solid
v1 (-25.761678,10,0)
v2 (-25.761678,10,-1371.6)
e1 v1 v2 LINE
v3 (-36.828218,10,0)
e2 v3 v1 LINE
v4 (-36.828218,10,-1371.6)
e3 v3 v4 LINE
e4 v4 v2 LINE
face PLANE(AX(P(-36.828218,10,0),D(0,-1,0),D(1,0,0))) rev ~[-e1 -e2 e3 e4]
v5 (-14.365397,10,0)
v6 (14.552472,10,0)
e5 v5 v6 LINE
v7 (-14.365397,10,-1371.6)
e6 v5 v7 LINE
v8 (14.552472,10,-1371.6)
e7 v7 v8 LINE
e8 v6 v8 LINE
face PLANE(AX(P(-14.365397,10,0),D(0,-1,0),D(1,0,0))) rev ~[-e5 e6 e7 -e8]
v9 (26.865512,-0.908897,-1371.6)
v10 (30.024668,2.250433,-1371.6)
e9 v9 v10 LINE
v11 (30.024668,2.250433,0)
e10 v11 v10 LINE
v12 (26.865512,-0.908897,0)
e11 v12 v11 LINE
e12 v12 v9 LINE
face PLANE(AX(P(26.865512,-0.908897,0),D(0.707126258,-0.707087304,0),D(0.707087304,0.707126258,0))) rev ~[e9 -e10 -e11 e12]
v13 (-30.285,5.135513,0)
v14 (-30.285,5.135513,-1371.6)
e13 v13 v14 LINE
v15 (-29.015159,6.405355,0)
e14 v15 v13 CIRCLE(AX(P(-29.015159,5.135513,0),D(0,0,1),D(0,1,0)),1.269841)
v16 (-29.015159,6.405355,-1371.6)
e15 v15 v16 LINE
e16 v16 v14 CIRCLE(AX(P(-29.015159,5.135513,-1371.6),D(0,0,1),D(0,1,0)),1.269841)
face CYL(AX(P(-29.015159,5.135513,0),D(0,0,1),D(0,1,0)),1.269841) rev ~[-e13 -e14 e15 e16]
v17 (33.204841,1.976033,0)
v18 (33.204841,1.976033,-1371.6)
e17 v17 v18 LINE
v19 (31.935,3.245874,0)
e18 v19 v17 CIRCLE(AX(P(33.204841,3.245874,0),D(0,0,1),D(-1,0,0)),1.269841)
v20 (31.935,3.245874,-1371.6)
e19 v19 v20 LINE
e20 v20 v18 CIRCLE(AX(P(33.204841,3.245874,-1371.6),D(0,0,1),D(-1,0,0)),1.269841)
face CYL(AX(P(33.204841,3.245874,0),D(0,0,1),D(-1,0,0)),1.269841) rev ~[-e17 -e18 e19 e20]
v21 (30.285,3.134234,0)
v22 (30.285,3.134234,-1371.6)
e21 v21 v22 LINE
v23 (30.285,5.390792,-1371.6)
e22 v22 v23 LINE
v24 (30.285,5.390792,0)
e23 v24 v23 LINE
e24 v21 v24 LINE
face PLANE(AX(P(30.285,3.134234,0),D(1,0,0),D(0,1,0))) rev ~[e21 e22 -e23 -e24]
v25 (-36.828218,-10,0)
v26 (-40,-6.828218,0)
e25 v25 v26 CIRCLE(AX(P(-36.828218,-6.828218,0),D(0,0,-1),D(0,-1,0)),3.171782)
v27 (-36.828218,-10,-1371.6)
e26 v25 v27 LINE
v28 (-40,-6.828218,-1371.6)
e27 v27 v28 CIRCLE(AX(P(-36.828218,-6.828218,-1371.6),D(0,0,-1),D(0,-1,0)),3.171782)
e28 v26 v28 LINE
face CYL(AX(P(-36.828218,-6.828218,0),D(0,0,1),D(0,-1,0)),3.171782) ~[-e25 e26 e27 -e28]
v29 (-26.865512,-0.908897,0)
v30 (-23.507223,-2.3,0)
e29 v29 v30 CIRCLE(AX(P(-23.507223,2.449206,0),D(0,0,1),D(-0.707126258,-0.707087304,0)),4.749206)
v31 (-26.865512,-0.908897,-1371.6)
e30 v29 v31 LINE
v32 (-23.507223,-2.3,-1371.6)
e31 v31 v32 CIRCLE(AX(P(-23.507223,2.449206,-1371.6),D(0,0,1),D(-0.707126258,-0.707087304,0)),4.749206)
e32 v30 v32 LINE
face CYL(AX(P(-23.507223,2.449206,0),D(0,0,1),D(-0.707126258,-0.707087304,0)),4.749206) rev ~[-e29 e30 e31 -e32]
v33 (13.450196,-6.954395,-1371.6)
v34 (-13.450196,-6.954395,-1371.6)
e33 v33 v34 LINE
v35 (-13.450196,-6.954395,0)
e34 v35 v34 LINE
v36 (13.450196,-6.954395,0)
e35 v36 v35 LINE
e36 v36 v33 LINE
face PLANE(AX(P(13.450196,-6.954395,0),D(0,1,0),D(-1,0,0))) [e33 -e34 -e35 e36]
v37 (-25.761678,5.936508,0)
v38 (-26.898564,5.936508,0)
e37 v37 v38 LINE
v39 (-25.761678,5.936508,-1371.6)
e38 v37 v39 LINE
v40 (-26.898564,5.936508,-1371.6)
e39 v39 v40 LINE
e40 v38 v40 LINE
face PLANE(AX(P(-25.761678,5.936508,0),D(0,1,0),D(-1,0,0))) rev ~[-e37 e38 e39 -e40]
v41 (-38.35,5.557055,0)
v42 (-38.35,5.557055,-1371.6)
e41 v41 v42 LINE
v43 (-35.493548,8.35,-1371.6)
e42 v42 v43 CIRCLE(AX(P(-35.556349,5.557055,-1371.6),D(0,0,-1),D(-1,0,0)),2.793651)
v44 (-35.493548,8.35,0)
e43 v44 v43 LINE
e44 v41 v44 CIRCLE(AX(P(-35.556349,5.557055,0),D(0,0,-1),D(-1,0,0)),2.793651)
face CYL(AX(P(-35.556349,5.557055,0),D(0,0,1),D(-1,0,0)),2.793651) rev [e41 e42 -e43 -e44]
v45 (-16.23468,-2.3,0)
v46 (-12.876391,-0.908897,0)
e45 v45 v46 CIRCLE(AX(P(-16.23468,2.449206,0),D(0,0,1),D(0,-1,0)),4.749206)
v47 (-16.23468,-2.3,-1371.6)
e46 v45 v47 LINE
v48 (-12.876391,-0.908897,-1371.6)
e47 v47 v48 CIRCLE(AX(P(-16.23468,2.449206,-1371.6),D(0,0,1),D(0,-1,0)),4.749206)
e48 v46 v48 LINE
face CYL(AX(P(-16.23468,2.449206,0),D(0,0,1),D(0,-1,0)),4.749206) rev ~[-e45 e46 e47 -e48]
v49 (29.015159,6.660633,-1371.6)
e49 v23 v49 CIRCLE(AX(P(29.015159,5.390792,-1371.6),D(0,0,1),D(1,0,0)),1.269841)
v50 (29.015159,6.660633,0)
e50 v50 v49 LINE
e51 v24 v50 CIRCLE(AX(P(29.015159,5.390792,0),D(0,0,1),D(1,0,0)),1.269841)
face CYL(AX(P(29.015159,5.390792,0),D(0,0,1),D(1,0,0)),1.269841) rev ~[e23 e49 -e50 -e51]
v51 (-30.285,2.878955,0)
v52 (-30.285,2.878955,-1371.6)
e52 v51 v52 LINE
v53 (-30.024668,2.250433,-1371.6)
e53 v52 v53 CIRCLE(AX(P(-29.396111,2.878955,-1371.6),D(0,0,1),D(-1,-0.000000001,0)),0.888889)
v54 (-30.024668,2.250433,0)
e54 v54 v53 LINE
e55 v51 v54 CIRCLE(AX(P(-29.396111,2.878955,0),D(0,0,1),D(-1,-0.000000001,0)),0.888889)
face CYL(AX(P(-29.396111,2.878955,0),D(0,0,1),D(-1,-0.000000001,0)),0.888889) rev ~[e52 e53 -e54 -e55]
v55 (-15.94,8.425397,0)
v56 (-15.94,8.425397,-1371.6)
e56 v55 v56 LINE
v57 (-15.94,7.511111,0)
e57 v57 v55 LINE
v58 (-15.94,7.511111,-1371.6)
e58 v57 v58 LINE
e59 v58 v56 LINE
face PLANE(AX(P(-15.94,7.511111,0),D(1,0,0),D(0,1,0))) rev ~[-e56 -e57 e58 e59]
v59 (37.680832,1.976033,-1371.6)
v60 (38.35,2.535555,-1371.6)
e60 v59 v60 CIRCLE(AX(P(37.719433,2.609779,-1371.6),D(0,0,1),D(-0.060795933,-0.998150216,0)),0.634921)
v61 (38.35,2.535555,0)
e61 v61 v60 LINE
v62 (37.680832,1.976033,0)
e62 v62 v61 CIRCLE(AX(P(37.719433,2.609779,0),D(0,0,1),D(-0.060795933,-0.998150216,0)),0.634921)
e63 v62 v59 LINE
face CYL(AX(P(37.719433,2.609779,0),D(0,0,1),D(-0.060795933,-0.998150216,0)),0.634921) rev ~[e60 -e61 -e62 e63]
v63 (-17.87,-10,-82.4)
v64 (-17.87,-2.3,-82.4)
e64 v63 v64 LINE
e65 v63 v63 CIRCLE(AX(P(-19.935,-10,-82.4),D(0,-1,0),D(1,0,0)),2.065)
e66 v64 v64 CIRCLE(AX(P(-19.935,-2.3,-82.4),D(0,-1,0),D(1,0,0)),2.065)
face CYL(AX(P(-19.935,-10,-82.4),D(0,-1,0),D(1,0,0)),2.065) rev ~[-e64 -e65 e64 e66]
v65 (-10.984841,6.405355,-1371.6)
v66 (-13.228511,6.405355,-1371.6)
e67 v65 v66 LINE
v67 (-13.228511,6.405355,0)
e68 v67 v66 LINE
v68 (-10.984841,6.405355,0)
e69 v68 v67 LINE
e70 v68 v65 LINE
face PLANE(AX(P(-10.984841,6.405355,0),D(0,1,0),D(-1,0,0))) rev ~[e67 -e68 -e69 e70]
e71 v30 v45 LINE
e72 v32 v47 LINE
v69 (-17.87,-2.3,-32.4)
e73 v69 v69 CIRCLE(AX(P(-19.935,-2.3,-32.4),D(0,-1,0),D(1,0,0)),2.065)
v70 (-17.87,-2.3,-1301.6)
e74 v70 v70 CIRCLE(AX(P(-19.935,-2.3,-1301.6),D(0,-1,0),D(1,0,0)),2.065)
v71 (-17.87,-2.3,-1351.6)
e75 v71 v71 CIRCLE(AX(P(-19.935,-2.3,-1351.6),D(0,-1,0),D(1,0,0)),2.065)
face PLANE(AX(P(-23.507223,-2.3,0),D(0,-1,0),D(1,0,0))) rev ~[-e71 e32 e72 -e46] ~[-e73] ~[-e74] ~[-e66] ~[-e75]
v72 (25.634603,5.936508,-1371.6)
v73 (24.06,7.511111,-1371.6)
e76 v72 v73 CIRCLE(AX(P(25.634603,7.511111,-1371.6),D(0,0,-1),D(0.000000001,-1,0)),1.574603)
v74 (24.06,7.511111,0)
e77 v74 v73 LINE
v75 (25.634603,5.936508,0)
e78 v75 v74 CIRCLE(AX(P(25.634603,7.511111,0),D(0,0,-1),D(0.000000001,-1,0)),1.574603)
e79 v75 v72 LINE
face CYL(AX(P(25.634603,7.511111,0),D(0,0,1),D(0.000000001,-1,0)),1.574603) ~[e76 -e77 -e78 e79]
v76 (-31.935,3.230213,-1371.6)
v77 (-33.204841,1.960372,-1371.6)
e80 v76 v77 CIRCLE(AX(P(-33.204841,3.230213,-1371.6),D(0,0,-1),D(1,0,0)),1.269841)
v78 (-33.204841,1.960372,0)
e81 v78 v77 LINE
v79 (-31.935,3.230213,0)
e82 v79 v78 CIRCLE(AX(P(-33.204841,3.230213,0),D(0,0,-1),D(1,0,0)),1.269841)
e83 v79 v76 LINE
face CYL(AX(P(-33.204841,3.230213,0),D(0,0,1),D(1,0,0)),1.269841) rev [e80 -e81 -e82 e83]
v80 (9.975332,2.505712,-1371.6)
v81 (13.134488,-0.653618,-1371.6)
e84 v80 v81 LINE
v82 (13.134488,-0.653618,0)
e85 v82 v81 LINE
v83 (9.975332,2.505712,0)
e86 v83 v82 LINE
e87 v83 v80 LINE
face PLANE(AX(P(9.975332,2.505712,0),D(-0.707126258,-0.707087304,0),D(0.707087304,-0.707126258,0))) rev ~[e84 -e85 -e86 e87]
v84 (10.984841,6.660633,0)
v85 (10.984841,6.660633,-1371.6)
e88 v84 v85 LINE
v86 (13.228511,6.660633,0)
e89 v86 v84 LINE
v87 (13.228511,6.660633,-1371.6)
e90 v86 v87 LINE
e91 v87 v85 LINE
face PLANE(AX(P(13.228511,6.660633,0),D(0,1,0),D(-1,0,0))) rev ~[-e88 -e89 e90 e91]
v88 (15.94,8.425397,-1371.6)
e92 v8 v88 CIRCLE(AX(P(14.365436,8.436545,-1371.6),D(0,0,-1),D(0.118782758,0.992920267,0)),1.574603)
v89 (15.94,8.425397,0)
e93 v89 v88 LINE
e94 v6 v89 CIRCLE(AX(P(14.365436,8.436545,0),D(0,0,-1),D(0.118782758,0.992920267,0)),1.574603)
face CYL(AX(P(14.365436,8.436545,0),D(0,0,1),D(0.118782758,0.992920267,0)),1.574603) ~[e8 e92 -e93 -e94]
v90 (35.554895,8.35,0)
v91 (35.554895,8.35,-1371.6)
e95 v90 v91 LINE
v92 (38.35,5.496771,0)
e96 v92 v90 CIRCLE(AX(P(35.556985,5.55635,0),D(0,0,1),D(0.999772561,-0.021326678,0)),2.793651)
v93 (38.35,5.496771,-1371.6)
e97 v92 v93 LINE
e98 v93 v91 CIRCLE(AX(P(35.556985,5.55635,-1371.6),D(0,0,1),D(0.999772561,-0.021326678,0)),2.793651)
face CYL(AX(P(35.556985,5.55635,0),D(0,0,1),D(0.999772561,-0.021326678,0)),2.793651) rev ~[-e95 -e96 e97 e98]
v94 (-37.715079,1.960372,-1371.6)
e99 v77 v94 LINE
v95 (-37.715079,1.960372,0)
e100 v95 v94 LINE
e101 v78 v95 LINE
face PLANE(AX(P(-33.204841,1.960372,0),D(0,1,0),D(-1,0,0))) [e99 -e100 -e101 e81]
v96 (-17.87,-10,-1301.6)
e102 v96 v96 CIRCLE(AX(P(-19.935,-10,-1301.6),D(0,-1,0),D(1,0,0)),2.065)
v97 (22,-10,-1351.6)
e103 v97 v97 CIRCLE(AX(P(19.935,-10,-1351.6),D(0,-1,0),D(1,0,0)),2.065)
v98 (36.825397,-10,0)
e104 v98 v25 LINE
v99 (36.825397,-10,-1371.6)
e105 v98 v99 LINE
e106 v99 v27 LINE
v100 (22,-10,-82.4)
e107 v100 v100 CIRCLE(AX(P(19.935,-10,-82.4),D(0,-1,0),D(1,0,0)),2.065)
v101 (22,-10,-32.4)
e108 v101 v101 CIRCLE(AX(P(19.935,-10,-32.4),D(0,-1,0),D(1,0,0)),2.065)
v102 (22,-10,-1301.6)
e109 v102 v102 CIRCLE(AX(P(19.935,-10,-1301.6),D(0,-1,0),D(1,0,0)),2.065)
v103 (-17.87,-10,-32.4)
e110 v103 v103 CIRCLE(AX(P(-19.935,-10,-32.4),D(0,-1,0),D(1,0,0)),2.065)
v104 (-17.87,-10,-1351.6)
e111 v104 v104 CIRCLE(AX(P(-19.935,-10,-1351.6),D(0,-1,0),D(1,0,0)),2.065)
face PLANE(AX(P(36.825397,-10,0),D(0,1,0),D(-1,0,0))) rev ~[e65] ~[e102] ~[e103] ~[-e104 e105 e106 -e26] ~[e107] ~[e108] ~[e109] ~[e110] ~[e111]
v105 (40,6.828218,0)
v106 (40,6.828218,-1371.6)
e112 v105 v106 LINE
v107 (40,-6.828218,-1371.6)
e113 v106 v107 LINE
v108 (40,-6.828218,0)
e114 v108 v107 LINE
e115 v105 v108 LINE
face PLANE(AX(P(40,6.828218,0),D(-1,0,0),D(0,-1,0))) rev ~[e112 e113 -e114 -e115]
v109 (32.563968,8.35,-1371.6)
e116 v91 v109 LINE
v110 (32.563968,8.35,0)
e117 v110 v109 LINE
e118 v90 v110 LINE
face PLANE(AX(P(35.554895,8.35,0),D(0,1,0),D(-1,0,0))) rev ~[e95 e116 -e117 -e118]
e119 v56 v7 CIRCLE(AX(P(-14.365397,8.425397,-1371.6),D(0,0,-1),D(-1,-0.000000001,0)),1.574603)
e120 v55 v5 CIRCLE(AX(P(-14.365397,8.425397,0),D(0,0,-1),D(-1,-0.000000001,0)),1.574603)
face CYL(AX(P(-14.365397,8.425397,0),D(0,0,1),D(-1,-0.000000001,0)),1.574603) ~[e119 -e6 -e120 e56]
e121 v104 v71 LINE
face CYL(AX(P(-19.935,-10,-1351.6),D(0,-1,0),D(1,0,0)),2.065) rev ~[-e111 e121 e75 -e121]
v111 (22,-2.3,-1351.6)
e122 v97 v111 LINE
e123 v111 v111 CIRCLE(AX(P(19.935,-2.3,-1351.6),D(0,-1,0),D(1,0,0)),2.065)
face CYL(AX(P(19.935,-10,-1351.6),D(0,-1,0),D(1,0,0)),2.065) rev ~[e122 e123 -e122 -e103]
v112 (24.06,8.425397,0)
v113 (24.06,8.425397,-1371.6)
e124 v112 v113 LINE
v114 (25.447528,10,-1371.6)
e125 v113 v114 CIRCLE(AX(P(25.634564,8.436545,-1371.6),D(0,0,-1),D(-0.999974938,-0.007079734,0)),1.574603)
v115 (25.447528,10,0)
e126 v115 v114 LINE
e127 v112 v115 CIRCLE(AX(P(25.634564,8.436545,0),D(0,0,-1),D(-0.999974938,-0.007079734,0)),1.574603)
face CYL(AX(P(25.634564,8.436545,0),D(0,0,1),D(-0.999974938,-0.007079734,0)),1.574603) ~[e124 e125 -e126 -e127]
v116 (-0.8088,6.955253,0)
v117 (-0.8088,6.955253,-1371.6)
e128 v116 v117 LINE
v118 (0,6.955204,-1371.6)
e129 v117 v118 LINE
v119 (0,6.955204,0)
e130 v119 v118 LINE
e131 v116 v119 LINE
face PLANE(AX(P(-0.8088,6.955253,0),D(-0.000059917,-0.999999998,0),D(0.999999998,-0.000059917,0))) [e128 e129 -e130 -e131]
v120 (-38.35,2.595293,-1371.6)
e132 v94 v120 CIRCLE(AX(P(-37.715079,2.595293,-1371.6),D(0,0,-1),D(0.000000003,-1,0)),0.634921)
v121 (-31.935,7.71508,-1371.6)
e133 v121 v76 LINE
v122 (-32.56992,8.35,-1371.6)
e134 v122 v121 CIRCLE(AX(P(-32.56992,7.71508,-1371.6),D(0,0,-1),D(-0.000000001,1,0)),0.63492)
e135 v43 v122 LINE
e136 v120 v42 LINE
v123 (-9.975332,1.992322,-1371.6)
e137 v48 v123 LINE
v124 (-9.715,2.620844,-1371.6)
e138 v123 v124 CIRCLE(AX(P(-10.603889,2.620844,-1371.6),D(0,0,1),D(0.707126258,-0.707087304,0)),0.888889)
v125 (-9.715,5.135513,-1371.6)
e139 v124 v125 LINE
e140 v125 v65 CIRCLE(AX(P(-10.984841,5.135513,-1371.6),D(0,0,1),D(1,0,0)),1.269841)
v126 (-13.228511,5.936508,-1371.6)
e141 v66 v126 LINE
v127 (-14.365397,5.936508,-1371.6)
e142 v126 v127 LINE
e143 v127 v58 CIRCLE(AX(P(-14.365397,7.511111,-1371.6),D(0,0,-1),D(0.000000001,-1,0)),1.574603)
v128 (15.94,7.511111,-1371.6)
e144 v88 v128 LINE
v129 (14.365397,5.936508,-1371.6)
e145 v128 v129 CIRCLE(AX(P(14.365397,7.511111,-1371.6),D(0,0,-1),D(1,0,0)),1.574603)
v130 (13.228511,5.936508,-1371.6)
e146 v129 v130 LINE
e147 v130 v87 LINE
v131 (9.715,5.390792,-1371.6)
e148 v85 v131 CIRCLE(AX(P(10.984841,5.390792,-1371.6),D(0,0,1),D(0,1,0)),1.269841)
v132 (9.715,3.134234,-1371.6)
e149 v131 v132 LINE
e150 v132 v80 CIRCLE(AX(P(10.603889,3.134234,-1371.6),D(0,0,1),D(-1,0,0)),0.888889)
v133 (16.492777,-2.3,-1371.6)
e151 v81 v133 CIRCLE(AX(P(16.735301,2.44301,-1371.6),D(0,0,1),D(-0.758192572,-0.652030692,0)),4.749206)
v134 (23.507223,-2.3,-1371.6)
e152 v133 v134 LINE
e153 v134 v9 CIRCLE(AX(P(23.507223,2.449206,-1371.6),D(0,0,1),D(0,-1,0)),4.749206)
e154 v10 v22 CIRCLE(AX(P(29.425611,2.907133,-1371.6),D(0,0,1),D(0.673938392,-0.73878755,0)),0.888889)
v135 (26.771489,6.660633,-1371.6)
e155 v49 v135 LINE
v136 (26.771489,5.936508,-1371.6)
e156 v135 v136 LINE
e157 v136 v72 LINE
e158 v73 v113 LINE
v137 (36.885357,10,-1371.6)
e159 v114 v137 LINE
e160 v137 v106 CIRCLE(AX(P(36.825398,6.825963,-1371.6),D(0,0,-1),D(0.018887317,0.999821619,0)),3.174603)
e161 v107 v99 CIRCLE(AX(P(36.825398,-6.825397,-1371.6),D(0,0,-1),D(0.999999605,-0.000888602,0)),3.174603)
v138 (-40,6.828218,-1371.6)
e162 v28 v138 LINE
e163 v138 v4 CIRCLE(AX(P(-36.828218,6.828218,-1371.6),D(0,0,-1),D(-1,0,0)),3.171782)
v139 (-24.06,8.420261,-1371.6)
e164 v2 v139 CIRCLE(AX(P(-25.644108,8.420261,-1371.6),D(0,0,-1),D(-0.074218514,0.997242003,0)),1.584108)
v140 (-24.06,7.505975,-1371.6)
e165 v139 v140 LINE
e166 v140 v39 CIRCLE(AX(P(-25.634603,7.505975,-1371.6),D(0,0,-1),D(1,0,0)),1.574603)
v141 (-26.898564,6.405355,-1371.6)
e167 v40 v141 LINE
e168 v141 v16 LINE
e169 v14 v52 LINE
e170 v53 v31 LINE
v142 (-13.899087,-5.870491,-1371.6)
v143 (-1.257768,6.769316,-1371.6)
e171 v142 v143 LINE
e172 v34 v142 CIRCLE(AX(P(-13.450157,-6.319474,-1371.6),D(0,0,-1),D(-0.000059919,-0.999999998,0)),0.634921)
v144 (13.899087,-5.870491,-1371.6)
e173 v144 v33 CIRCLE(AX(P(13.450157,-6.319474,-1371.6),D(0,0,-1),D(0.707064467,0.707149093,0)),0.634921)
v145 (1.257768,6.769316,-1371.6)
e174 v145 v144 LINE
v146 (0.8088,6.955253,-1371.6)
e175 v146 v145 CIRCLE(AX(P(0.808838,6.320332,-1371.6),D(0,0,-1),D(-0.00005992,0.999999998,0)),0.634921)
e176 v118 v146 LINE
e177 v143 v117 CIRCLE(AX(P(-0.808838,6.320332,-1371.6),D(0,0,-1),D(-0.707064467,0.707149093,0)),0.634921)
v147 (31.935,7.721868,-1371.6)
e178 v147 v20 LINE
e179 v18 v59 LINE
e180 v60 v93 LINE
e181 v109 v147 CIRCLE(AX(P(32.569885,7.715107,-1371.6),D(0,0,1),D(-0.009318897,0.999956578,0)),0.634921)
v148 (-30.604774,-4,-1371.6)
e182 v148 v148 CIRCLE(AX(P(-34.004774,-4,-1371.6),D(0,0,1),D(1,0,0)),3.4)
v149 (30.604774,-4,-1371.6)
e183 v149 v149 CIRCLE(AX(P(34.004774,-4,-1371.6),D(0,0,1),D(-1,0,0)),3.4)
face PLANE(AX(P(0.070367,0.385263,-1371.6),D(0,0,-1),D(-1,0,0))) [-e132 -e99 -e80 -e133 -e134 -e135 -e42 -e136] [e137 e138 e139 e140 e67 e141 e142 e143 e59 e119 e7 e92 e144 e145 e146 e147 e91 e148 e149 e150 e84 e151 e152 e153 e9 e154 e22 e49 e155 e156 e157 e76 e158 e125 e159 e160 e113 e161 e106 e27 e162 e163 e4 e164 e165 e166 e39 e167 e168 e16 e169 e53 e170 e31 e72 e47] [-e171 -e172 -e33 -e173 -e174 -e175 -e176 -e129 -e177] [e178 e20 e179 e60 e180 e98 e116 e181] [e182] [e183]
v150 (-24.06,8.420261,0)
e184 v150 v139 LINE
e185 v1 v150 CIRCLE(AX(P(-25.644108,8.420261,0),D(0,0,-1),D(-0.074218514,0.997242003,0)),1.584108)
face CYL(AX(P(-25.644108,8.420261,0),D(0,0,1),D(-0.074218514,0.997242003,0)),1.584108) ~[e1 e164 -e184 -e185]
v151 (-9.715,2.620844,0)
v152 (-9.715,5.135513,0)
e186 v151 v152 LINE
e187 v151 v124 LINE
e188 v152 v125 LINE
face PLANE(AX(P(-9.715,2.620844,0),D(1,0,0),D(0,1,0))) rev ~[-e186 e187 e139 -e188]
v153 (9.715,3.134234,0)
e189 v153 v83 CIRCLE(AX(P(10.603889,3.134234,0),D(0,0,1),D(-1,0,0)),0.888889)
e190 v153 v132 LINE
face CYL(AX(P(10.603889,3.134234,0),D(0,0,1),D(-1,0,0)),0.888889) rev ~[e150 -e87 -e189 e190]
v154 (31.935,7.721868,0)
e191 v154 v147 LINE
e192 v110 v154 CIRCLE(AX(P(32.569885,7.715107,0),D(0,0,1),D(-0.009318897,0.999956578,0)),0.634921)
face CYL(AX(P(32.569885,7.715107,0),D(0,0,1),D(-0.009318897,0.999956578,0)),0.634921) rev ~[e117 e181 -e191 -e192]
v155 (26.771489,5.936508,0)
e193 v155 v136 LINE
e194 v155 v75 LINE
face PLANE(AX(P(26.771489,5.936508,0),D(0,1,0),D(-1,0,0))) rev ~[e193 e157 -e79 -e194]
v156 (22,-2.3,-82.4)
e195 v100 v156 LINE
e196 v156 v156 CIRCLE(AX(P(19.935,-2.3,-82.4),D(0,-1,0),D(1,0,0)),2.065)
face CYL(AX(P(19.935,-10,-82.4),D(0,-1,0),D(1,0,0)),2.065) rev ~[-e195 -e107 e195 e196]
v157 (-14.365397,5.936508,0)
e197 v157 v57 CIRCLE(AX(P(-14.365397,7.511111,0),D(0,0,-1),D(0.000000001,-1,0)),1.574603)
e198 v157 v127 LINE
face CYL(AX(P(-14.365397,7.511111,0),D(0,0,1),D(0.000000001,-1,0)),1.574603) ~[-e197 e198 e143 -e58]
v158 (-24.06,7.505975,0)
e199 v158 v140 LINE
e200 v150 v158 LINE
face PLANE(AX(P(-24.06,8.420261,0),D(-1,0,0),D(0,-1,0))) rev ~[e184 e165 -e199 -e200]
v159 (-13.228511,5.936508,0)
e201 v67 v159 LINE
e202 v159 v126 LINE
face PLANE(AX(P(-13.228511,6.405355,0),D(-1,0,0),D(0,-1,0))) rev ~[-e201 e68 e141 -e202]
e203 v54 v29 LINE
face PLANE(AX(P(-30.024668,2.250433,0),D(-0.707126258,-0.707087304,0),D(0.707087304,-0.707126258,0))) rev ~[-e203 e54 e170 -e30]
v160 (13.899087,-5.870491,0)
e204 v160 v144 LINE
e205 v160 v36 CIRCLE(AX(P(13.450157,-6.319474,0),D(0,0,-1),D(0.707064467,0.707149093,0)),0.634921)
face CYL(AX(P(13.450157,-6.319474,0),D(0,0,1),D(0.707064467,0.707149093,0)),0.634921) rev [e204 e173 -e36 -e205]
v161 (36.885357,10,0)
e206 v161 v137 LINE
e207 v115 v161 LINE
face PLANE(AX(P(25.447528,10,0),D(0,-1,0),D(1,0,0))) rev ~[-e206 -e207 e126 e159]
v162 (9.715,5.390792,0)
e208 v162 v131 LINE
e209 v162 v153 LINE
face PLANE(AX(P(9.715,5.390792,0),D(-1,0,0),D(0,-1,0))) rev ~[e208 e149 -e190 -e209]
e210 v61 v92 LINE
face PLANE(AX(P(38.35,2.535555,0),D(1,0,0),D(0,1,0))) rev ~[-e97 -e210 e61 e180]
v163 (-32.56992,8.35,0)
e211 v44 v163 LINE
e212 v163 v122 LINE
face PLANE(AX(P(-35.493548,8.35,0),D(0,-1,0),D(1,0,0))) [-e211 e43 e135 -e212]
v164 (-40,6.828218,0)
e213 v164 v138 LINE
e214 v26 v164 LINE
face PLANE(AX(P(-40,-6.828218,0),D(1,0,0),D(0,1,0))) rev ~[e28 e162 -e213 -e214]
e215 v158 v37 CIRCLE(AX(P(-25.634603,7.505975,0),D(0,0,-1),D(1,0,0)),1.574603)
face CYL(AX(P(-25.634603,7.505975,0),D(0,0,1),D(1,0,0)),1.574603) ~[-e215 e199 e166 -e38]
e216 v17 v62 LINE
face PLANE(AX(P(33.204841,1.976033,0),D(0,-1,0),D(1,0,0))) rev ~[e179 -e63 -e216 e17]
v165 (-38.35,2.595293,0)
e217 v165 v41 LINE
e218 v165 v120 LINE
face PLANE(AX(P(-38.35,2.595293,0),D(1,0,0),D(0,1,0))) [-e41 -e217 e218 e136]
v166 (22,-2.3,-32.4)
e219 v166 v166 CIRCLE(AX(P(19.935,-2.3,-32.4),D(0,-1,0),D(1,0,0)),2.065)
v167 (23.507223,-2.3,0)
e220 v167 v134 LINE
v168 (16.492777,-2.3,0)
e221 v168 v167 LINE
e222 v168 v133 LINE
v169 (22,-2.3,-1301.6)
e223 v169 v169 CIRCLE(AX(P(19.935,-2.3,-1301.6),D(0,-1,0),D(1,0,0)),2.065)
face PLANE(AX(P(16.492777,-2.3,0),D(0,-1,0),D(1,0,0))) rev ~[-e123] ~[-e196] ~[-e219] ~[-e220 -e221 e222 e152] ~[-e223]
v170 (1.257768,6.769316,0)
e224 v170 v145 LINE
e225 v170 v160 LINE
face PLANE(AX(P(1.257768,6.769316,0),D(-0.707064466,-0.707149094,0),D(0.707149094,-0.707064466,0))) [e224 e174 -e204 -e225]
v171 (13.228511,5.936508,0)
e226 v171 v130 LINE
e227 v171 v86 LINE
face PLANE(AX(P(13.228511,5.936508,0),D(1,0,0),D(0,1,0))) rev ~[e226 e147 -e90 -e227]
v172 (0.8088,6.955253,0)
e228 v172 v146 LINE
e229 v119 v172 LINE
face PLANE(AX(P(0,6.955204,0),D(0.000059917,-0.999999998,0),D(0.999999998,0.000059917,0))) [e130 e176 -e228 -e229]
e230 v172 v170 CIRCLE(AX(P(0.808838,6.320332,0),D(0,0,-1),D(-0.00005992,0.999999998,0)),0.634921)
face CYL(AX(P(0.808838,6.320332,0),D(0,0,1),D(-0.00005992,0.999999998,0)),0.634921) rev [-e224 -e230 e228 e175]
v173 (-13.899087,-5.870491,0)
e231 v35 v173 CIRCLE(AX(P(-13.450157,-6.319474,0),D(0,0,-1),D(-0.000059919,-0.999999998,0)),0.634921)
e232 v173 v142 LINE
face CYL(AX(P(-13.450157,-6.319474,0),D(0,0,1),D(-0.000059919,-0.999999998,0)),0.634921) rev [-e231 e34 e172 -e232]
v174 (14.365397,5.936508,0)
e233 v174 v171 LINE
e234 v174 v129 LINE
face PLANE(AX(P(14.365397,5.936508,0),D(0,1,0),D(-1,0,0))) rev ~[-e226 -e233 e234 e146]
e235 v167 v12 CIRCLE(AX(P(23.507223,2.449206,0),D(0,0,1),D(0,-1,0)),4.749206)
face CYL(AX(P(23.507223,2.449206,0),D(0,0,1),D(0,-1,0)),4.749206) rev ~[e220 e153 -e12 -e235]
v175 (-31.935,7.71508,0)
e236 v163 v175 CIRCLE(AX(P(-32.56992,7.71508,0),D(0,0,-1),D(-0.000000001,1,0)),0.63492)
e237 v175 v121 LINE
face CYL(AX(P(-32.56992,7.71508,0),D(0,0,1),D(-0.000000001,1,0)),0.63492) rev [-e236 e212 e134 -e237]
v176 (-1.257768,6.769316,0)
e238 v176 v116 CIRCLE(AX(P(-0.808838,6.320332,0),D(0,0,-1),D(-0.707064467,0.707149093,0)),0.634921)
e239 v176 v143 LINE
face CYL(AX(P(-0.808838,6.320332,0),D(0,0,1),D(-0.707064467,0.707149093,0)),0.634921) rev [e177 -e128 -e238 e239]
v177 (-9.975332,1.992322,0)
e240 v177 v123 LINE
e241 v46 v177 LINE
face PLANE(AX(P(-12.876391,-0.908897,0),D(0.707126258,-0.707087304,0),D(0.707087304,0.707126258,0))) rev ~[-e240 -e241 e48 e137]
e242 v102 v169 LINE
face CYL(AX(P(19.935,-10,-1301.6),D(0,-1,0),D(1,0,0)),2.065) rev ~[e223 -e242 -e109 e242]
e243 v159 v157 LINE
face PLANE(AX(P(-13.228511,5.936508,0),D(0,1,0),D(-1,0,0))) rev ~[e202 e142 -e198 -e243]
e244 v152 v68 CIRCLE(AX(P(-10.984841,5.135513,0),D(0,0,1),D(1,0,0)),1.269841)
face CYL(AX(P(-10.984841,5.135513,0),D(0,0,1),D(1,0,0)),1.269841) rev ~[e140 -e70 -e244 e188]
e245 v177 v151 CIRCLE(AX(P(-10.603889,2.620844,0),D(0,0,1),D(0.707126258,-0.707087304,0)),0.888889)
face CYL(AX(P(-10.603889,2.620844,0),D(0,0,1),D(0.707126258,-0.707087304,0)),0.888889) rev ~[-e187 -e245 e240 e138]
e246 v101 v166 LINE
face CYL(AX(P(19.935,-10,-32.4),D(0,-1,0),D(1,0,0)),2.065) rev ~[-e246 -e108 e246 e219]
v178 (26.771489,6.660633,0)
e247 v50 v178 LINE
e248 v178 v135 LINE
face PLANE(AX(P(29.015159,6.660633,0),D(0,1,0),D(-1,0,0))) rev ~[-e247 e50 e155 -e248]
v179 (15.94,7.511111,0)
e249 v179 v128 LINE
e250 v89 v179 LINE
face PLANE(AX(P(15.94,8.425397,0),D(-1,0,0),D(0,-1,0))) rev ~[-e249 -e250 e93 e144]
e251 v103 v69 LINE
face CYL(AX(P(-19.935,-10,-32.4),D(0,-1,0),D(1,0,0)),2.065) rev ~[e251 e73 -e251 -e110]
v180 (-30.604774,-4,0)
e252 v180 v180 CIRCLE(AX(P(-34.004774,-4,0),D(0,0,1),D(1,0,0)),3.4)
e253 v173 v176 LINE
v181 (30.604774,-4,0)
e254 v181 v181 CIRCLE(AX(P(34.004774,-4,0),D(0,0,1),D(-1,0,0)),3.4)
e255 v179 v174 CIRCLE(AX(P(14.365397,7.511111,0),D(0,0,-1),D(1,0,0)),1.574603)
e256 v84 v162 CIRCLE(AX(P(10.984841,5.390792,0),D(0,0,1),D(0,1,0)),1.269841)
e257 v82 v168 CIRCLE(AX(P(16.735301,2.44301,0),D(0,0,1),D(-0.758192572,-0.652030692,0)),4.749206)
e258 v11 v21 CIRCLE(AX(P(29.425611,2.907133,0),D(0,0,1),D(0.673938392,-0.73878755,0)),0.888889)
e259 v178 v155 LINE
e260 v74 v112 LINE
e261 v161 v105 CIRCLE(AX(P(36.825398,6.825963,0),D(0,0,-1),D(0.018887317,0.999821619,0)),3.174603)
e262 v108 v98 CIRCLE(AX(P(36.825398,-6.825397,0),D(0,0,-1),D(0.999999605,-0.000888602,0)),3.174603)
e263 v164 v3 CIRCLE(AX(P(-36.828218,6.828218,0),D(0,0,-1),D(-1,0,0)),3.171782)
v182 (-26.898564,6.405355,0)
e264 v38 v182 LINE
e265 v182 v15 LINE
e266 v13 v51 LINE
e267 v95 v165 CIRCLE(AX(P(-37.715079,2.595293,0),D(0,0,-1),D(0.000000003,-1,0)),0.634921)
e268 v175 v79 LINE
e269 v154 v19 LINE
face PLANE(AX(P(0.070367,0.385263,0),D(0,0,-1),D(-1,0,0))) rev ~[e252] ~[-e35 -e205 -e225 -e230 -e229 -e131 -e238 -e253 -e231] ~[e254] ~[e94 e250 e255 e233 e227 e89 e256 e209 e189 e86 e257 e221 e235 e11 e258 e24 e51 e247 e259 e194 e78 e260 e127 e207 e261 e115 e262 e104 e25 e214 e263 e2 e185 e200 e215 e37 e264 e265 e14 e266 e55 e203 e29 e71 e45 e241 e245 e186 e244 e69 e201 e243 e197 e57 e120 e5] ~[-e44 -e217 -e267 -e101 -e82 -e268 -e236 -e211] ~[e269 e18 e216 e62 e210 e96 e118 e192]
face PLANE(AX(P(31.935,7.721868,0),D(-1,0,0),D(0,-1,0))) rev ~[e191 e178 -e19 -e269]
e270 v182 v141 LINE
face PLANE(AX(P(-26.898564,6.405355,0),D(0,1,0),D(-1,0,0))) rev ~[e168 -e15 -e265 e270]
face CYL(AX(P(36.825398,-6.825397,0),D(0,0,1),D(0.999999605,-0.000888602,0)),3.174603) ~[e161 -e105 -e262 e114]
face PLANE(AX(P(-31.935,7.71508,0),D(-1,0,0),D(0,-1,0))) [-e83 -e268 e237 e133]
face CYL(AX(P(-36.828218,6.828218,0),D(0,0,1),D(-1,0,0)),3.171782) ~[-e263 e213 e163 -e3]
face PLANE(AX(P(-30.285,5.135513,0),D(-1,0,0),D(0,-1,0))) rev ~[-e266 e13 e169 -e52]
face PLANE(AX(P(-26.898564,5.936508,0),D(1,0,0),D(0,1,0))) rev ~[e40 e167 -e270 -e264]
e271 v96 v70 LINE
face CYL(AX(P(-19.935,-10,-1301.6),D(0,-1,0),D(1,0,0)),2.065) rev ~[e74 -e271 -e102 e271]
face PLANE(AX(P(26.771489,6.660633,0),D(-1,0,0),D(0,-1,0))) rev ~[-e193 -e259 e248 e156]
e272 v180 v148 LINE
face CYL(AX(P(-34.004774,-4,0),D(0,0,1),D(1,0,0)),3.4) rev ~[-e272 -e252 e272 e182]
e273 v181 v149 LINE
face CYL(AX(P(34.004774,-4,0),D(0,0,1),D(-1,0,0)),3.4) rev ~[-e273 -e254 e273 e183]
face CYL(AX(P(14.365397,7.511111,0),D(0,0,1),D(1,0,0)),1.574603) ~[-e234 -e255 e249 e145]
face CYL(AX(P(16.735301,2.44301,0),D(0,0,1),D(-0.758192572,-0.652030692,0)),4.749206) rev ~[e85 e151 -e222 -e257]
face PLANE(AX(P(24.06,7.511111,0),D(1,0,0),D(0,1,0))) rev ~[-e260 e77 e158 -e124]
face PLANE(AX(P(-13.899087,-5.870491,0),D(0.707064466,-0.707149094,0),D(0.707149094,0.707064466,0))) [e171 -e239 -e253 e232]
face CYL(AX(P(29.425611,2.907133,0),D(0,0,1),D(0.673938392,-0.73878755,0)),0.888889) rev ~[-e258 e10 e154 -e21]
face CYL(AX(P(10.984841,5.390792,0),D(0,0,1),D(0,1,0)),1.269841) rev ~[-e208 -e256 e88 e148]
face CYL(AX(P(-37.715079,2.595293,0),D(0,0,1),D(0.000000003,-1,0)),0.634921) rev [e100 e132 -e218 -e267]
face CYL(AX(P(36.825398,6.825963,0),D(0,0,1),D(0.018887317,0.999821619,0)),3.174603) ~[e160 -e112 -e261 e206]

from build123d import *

# Parameters (mm, degrees)
SKETCH1_R          = 3.4
SKETCH1_R_2        = 3.400000006
EXTRUDE1_DEPTH     = 1371.6
SKETCH2_R          = 2.065
CUT_EXTRUDE1_DEPTH = 1373.328945544
SKETCH8_R          = 2.065
CUT_EXTRUDE2_DEPTH = 10


with BuildPart() as part:
    # Sketch1 → Extrude1 (new body)
    with BuildSketch(Plane.XY):
        with BuildLine():
            Line((-36.828217803, 10), (-25.761678346, 10))
            ThreePointArc((-25.761678346, 10), (-24.566343162, 9.581217839), (-24.06, 8.420260776))
            Line((-24.06, 8.420260776), (-24.06, 7.505975062))
            ThreePointArc((-24.06, 7.505975062), (-24.567063435, 6.348506245), (-25.761678346, 5.936507937))
            Line((-25.761678346, 5.936507937), (-26.89856374, 5.936507937))
            Line((-26.89856374, 5.936507937), (-26.89856374, 6.405354551))
            Line((-26.89856374, 6.405354551), (-29.01515873, 6.405354551))
            ThreePointArc((-29.01515873, 6.405354551), (-29.913072103, 6.033426654), (-30.285, 5.135513281))
            Line((-30.285, 5.135513281), (-30.285, 2.878955078))
            ThreePointArc((-30.285, 2.878955078), (-30.217342047, 2.538803338), (-30.024667785, 2.250433031))
            Line((-30.024667785, 2.250433031), (-26.865511635, -0.908897163))
            ThreePointArc((-26.865511635, -0.908897163), (-25.324726136, -1.938463161), (-23.50722312, -2.3))
            Line((-23.50722312, -2.3), (-16.234679932, -2.3))
            ThreePointArc((-16.234679932, -2.3), (-14.417176915, -1.938463161), (-12.876391416, -0.908897163))
            Line((-12.876391416, -0.908897163), (-9.975332215, 1.992321863))
            ThreePointArc((-9.975332215, 1.992321863), (-9.782657953, 2.28069217), (-9.715, 2.620843911))
            Line((-9.715, 2.620843911), (-9.715, 5.135513281))
            ThreePointArc((-9.715, 5.135513281), (-10.086927897, 6.033426654), (-10.98484127, 6.405354551))
            Line((-10.98484127, 6.405354551), (-13.228511431, 6.405354551))
            Line((-13.228511431, 6.405354551), (-13.228511431, 5.936507937))
            Line((-13.228511431, 5.936507937), (-14.365396825, 5.936507937))
            ThreePointArc((-14.365396825, 5.936507937), (-15.478809408, 6.397698529), (-15.94, 7.511111111))
            Line((-15.94, 7.511111111), (-15.94, 8.425396825))
            ThreePointArc((-15.94, 8.425396825), (-15.478809408, 9.538809408), (-14.365396825, 10))
            Line((-14.365396825, 10), (-7.044126982, 10))
            Line((-7.044126982, 10), (14.552471996, 10))
            ThreePointArc((14.552471996, 10), (15.546813416, 9.477564883), (15.94, 8.425396825))
            Line((15.94, 8.425396825), (15.94, 7.511111111))
            ThreePointArc((15.94, 7.511111111), (15.478809408, 6.397698529), (14.365396825, 5.936507937))
            Line((14.365396825, 5.936507937), (13.228511431, 5.936507937))
            Line((13.228511431, 5.936507937), (13.228511431, 6.660633301))
            Line((13.228511431, 6.660633301), (10.98484127, 6.660633301))
            ThreePointArc((10.98484127, 6.660633301), (10.086927897, 6.288705404), (9.715, 5.390792031))
            Line((9.715, 5.390792031), (9.715, 3.134233829))
            ThreePointArc((9.715, 3.134233829), (9.782657953, 2.794082088), (9.975332215, 2.505711781))
            Line((9.975332215, 2.505711781), (13.134488365, -0.653618412))
            ThreePointArc((13.134488365, -0.653618412), (14.64473832, -1.821319739), (16.49277688, -2.3))
            Line((16.49277688, -2.3), (23.50722312, -2.3))
            ThreePointArc((23.50722312, -2.3), (25.324726136, -1.938463161), (26.865511635, -0.908897163))
            Line((26.865511635, -0.908897163), (30.024667785, 2.250433031))
            ThreePointArc((30.024667785, 2.250433031), (30.278278636, 2.655971567), (30.285, 3.134233829))
            Line((30.285, 3.134233829), (30.285, 5.390792031))
            ThreePointArc((30.285, 5.390792031), (29.913072103, 6.288705404), (29.01515873, 6.660633301))
            Line((29.01515873, 6.660633301), (26.771488569, 6.660633301))
            Line((26.771488569, 6.660633301), (26.771488569, 5.936507937))
            Line((26.771488569, 5.936507937), (25.634603175, 5.936507937))
            ThreePointArc((25.634603175, 5.936507937), (24.521190592, 6.397698529), (24.06, 7.511111111))
            Line((24.06, 7.511111111), (24.06, 8.425396825))
            ThreePointArc((24.06, 8.425396825), (24.453186584, 9.477564883), (25.447528004, 10))
            Line((25.447528004, 10), (33.075833554, 10))
            Line((33.075833554, 10), (36.885357363, 10))
            ThreePointArc((36.885357363, 10), (39.090491138, 9.050251023), (40, 6.828217785))
            Line((40, 6.828217785), (40, -6.828217785))
            ThreePointArc((40, -6.828217785), (39.069183486, -9.071177839), (36.825396825, -10))
            Line((36.825396825, -10), (-36.828217803, -10))
            ThreePointArc((-36.828217803, -10), (-39.071006503, -9.071006503), (-40, -6.828217803))
            Line((-40, -6.828217803), (-40, 6.828217803))
            ThreePointArc((-40, 6.828217803), (-39.071006503, 9.071006503), (-36.828217803, 10))
        make_face()
        with Locations((-34.004773868, -4)):
            Circle(SKETCH1_R, mode=Mode.SUBTRACT)
        with Locations(Location((34.004773868, -4, 0), (0, 0, 180))):
            Circle(SKETCH1_R_2, mode=Mode.SUBTRACT)
        with BuildLine():
            Line((-38.35, 2.595292927), (-38.35, 5.557055178))
            ThreePointArc((-38.35, 5.557055178), (-37.509428882, 7.554544736), (-35.493548116, 8.35))
            Line((-35.493548116, 8.35), (-32.569919859, 8.35))
            ThreePointArc((-32.569919859, 8.35), (-32.120963721, 8.164036279), (-31.935, 7.715080141))
            Line((-31.935, 7.715080141), (-31.935, 3.230213422))
            ThreePointArc((-31.935, 3.230213422), (-32.306927856, 2.332300148), (-33.20484113, 1.960372292))
            Line((-33.20484113, 1.960372292), (-37.715079365, 1.960372292))
            ThreePointArc((-37.715079365, 1.960372292), (-38.164036052, 2.14633624), (-38.35, 2.595292927))
        make_face(mode=Mode.SUBTRACT)
        with BuildLine():
            Line((13.450195503, -6.954394873), (-13.450195503, -6.954394873))
            ThreePointArc((-13.450195503, -6.954394873), (-14.036762187, -6.562412722), (-13.89908728, -5.870490687))
            Line((-13.89908728, -5.870490687), (-1.257767926, 6.769315833))
            ThreePointArc((-1.257767926, 6.769315833), (-1.051776589, 6.906937009), (-0.808800063, 6.955252915))
            Line((-0.808800063, 6.955252915), (0, 6.955204454))
            Line((0, 6.955204454), (0.808800063, 6.955252915))
            ThreePointArc((0.808800063, 6.955252915), (1.051776589, 6.906937009), (1.257767926, 6.769315833))
            Line((1.257767926, 6.769315833), (13.89908728, -5.870490687))
            ThreePointArc((13.89908728, -5.870490687), (14.036762187, -6.562412722), (13.450195503, -6.954394873))
        make_face(mode=Mode.SUBTRACT)
        with BuildLine():
            Line((35.554894965, 8.35), (32.563967874, 8.35))
            ThreePointArc((32.563967874, 8.35), (32.121226634, 8.164362109), (31.935, 7.721868186))
            Line((31.935, 7.721868186), (31.935, 3.245873842))
            ThreePointArc((31.935, 3.245873842), (32.306927897, 2.347960469), (33.20484127, 1.976032573))
            Line((33.20484127, 1.976032573), (37.680832198, 1.976032573))
            ThreePointArc((37.680832198, 1.976032573), (38.126707117, 2.122693703), (38.35, 2.535554718))
            Line((38.35, 2.535554718), (38.35, 5.496770698))
            ThreePointArc((38.35, 5.496770698), (37.552616332, 7.511327921), (35.554894965, 8.35))
        make_face(mode=Mode.SUBTRACT)
    extrude(amount=-EXTRUDE1_DEPTH)

    # Sketch2 → Cut-Extrude1 (cut, through all)
    with BuildSketch(Plane.XZ.offset(10)):
        with Locations((-19.935, -1351.6)):
            Circle(SKETCH2_R)
        with Locations((-19.935, -1301.6)):
            Circle(SKETCH2_R)
        with Locations((19.935, -1301.6)):
            Circle(SKETCH2_R)
        with Locations((19.935, -1351.6)):
            Circle(SKETCH2_R)
    extrude(amount=-CUT_EXTRUDE1_DEPTH, mode=Mode.SUBTRACT)

    # Sketch8 → Cut-Extrude2 (cut)
    with BuildSketch(Plane.XZ.offset(10)):
        with Locations((-19.935, -82.4)):
            Circle(SKETCH8_R)
        with Locations((-19.935, -32.4)):
            Circle(SKETCH8_R)
        with Locations((19.935, -32.4)):
            Circle(SKETCH8_R)
        with Locations((19.935, -82.4)):
            Circle(SKETCH8_R)
    extrude(amount=-CUT_EXTRUDE2_DEPTH, mode=Mode.SUBTRACT)


solid = part.part
